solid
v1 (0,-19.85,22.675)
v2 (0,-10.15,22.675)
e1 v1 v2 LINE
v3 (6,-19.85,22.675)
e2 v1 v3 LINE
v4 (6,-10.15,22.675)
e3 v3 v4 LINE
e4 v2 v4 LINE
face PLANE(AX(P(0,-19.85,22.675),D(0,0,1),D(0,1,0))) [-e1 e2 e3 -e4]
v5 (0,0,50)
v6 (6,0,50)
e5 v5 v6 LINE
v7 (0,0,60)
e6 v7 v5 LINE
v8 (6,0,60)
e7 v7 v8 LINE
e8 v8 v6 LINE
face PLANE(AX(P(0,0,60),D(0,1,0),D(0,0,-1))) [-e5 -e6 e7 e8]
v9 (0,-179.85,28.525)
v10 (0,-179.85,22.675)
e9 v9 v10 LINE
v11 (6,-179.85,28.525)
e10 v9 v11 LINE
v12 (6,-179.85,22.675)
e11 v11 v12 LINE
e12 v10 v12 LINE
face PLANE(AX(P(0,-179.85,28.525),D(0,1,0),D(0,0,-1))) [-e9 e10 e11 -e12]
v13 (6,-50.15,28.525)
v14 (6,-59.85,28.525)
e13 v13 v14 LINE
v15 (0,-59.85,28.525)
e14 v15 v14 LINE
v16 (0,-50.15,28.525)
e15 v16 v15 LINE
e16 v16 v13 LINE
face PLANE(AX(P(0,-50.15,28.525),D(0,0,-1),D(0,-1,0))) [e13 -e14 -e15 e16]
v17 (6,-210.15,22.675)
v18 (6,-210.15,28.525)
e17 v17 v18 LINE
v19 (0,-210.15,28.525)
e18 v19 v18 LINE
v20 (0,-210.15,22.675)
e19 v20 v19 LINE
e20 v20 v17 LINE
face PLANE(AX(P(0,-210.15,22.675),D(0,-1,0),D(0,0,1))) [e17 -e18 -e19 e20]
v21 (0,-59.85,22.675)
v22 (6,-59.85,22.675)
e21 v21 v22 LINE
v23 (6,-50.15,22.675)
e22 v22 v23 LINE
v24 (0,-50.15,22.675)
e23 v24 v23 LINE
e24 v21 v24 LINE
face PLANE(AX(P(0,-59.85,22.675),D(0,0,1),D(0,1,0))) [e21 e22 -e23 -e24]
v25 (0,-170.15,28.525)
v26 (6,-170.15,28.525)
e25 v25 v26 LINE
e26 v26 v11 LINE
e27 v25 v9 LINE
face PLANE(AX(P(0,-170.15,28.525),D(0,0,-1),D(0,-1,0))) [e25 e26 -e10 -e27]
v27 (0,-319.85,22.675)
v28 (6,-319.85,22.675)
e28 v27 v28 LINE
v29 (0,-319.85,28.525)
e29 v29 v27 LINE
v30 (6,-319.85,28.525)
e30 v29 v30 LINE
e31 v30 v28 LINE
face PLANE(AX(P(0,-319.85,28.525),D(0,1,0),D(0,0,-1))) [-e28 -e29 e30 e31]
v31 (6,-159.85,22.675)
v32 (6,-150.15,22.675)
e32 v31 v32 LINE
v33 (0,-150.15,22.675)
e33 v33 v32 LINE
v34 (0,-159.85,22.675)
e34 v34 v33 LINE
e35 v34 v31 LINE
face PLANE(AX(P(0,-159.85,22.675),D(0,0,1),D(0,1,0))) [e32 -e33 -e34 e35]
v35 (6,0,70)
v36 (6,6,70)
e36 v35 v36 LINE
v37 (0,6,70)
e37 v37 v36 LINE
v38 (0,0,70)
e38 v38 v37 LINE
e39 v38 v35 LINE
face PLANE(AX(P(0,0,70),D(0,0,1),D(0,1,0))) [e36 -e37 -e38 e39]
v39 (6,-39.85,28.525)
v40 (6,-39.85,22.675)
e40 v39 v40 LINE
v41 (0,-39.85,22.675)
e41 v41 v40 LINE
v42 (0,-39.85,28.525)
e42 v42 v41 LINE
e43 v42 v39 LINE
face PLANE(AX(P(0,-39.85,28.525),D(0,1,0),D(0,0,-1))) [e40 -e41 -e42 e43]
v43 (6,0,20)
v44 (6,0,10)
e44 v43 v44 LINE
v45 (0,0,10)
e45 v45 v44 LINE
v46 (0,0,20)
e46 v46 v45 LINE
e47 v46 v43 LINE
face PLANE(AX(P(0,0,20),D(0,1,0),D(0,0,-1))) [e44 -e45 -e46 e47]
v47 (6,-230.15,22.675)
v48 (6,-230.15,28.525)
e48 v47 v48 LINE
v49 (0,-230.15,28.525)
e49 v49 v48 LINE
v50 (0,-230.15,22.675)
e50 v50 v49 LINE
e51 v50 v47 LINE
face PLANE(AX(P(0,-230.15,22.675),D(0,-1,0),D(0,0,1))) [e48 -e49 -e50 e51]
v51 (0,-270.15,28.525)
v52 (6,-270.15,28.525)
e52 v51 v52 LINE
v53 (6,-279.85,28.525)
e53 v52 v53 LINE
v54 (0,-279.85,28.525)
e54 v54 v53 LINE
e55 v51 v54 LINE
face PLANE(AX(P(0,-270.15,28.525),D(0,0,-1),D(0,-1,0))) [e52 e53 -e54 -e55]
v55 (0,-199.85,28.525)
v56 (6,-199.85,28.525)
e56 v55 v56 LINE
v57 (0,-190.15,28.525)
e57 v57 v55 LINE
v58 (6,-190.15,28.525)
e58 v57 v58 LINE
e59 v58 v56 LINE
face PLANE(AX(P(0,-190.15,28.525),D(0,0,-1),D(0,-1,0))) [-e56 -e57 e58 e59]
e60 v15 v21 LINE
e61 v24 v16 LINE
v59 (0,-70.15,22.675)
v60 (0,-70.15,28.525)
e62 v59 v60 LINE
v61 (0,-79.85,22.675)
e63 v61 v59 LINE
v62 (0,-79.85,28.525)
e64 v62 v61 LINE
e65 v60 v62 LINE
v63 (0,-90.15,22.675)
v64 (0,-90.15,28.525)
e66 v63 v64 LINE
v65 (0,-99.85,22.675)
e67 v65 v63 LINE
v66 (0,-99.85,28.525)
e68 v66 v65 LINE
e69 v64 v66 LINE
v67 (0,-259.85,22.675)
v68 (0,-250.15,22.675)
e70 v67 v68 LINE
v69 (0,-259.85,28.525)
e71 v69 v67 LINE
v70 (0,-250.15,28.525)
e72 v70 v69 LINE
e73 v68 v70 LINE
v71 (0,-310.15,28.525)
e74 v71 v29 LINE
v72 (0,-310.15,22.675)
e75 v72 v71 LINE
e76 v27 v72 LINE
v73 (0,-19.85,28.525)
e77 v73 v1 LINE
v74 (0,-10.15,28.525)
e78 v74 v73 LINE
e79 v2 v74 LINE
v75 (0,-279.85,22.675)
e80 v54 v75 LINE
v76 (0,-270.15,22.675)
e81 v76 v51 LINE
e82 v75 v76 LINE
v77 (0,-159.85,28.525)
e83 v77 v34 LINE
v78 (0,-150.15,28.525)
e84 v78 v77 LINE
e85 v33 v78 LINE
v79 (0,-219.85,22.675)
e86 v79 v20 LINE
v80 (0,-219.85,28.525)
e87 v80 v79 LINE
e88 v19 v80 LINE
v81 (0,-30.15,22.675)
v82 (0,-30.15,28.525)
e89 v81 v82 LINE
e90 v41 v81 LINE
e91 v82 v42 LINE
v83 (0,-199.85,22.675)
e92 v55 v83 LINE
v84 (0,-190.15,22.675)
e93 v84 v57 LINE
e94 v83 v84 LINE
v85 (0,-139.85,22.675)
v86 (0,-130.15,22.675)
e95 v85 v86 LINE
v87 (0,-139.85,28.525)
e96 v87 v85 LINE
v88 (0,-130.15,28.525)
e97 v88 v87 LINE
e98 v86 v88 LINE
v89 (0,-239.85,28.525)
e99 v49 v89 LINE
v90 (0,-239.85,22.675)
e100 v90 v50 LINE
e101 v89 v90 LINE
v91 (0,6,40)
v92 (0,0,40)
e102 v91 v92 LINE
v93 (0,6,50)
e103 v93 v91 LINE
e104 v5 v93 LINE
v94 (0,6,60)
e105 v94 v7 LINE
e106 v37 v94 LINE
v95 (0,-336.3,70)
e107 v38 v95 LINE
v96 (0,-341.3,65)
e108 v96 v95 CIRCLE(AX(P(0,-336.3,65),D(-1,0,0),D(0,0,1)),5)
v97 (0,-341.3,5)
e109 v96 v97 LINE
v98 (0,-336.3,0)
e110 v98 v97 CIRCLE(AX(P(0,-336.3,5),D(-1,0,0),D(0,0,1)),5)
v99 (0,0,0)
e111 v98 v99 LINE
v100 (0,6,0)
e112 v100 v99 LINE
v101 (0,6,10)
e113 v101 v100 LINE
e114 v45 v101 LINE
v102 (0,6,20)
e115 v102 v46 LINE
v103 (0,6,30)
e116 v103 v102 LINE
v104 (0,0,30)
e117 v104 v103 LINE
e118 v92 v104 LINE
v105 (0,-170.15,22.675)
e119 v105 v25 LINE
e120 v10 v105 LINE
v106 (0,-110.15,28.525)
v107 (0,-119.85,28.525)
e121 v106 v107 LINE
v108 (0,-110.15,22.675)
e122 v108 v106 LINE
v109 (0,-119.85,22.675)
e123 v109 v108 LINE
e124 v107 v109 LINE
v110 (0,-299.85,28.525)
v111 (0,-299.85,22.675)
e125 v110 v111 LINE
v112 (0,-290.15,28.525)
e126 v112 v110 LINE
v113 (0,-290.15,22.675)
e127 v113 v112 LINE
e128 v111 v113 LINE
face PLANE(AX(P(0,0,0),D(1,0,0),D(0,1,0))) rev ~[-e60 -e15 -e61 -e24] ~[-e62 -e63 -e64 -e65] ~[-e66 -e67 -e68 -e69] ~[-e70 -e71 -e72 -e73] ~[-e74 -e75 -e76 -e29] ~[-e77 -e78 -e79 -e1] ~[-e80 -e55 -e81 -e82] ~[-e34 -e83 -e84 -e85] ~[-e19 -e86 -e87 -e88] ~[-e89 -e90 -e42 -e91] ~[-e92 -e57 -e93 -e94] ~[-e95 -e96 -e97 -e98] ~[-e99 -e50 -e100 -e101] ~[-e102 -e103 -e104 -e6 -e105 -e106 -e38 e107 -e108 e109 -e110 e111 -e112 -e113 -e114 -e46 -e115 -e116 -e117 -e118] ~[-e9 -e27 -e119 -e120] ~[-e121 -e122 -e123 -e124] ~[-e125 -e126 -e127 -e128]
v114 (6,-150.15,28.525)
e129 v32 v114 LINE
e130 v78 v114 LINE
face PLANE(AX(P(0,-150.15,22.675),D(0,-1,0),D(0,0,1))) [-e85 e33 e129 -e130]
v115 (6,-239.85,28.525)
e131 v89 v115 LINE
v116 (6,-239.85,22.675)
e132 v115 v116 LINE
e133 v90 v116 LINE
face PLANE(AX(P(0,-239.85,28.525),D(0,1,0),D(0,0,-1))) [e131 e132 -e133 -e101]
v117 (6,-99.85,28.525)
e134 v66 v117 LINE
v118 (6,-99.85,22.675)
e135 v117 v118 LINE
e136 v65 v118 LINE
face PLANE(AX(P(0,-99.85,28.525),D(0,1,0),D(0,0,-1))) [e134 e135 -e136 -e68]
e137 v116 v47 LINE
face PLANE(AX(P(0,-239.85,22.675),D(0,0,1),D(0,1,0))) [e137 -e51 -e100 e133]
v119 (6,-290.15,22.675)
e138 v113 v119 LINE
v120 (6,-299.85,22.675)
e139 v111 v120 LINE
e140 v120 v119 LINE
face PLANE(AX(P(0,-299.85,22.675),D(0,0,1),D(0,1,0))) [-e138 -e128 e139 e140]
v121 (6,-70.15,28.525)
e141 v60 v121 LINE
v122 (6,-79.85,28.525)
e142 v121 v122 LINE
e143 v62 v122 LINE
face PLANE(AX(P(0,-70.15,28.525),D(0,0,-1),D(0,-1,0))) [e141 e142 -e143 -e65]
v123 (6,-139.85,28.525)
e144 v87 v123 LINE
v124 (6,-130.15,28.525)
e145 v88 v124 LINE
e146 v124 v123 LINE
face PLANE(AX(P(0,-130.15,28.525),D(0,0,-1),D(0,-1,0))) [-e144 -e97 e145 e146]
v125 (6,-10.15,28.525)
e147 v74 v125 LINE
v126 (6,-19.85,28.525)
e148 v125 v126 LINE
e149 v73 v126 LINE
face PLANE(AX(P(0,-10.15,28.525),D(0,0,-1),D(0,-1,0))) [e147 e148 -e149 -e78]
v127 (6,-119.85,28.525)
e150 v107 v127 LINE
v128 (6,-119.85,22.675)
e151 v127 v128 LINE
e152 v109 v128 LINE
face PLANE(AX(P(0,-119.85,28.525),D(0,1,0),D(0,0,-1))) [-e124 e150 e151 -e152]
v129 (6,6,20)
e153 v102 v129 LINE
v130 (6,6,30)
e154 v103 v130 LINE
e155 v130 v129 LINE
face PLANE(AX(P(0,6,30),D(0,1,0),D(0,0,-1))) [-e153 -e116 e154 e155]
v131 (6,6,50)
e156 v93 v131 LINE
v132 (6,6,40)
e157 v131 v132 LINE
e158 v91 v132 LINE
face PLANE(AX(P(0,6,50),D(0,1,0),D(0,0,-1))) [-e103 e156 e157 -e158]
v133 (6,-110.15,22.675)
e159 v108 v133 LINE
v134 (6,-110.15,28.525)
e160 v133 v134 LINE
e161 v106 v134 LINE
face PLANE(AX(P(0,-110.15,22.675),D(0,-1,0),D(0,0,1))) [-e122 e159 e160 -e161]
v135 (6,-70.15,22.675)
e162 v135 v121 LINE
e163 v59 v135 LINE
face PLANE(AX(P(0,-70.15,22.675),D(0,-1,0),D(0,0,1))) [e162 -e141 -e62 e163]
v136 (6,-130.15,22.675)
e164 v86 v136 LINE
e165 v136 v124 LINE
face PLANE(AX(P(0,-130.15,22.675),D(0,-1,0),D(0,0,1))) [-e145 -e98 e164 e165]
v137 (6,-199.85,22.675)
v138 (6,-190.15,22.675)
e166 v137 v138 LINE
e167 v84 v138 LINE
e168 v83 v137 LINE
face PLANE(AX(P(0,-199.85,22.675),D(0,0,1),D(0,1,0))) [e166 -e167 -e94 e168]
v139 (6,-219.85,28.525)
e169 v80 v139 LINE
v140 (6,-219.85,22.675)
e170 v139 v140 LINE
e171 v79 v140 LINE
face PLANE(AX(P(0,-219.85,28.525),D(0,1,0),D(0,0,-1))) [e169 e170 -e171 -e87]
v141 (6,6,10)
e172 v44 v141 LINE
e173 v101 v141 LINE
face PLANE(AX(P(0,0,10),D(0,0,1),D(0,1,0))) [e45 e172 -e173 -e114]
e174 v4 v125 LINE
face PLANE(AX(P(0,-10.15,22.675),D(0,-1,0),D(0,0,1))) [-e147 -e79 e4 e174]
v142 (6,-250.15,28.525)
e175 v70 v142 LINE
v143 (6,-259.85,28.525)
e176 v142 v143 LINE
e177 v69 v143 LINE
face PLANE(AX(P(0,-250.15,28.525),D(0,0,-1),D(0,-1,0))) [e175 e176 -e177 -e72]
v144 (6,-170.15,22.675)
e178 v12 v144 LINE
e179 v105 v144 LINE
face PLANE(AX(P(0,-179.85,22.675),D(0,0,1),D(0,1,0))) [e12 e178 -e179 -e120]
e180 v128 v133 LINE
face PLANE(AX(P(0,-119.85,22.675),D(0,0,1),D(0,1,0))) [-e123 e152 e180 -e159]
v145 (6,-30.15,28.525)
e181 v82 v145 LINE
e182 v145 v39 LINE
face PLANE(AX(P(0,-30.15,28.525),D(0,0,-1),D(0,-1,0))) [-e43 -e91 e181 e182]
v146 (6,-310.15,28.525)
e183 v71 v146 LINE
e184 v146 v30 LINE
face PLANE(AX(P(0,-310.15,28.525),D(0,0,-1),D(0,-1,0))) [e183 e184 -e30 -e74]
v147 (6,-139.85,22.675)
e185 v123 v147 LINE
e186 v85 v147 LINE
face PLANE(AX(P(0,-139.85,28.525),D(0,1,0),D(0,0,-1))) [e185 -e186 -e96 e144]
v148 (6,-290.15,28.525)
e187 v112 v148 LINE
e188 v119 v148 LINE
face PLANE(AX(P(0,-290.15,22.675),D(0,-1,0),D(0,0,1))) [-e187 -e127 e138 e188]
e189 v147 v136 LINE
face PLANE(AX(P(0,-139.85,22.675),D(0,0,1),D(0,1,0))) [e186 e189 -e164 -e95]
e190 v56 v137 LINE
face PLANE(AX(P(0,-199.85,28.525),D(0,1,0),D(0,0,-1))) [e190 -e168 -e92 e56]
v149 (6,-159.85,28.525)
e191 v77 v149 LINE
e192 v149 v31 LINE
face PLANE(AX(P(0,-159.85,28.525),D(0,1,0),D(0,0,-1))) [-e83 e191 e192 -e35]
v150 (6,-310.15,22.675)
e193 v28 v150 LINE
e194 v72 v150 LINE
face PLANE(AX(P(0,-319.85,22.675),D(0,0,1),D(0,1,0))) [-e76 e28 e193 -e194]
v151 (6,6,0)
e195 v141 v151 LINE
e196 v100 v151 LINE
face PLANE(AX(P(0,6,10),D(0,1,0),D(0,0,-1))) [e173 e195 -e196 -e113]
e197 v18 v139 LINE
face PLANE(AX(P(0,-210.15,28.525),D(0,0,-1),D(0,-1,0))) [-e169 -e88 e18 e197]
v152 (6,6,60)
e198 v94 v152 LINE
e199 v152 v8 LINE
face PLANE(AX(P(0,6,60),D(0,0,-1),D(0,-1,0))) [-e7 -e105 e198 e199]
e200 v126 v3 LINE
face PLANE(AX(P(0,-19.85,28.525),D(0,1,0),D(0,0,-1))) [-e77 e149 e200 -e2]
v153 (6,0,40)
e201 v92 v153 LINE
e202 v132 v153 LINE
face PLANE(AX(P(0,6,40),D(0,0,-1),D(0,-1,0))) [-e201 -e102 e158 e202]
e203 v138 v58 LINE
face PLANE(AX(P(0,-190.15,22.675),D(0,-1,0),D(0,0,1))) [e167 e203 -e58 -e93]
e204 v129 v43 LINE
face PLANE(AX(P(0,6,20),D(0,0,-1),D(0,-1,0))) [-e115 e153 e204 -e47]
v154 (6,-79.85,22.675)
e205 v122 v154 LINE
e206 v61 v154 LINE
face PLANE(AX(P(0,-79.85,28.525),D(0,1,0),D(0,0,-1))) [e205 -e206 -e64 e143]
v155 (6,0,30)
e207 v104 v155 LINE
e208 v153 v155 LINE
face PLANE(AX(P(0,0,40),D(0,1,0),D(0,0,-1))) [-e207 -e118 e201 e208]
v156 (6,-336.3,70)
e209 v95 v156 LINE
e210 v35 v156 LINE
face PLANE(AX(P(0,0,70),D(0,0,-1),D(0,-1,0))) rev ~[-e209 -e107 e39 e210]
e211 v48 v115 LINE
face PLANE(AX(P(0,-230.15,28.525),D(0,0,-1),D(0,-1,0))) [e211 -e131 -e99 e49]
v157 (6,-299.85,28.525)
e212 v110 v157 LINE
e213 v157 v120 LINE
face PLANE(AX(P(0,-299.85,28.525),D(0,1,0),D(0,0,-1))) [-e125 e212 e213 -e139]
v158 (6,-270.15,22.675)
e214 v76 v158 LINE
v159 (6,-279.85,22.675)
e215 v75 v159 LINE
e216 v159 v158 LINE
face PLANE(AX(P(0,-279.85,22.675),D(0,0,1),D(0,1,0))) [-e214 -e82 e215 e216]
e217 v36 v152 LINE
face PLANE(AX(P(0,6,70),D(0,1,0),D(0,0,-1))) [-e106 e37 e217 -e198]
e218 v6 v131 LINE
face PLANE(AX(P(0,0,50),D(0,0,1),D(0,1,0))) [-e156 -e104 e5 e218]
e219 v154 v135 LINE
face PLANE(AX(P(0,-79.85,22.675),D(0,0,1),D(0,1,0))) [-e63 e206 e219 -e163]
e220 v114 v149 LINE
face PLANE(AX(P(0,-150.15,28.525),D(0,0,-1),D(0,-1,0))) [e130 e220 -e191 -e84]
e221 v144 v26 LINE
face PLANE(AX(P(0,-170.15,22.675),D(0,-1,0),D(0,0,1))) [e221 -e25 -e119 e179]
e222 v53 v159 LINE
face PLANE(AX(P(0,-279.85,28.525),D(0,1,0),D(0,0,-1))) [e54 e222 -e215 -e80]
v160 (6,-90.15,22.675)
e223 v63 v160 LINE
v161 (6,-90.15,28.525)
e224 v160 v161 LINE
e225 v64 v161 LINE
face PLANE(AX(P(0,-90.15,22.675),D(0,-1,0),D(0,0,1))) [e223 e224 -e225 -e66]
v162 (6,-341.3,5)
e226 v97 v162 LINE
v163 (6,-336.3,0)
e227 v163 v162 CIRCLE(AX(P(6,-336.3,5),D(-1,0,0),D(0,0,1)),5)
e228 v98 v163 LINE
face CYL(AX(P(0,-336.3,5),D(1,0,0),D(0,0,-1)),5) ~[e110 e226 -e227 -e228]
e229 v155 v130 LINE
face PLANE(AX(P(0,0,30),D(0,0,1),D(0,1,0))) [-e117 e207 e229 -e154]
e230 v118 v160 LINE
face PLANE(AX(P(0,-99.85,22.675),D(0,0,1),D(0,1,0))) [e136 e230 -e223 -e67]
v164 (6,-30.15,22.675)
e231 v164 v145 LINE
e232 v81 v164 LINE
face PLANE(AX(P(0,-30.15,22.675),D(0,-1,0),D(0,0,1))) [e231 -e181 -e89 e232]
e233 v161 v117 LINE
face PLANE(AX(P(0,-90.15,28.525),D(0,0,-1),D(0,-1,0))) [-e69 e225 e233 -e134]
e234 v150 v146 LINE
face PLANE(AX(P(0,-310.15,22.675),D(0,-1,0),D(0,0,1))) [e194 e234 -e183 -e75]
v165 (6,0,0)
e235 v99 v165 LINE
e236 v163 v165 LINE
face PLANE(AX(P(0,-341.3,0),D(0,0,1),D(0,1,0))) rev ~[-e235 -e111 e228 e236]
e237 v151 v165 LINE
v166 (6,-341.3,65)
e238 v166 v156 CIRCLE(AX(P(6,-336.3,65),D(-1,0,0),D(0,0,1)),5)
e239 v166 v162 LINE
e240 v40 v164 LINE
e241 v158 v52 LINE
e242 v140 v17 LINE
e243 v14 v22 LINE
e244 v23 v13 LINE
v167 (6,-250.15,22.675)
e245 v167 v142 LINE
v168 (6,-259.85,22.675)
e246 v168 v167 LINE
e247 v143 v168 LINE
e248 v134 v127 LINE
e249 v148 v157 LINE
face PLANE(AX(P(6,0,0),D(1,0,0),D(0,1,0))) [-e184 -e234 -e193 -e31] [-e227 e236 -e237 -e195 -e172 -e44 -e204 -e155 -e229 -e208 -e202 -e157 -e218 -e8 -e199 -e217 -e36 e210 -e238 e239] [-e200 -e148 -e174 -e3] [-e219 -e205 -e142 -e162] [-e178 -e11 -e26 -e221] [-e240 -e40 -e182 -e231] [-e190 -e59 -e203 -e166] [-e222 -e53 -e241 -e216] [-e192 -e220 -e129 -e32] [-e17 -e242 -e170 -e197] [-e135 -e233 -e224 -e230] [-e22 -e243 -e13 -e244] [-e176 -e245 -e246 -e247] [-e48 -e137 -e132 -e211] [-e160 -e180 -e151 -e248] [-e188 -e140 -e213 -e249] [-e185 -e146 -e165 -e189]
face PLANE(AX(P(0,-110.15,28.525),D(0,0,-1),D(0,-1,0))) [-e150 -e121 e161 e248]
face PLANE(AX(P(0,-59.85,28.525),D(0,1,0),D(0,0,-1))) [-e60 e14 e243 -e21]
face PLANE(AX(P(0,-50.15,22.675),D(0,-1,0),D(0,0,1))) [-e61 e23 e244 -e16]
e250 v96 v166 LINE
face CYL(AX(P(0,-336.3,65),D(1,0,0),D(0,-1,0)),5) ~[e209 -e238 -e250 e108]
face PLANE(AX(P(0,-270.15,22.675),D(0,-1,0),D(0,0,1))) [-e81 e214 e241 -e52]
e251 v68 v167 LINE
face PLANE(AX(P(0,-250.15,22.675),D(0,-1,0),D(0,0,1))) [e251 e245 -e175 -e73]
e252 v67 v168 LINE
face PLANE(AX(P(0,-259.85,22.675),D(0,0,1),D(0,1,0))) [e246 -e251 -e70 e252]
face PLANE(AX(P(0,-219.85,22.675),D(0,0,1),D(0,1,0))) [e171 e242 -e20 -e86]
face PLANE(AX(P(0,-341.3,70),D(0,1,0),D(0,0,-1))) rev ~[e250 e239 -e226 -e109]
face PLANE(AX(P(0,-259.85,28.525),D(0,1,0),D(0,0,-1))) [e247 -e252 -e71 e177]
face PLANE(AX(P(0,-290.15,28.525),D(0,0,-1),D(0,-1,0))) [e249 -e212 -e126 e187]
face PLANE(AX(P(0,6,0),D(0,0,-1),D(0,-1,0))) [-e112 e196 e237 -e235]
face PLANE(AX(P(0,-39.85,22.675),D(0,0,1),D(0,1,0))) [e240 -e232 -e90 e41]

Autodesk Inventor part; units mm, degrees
ref_plane "YZ Plane" through (0, 0, 0) normal (1, 0, 0) x (0, 1, 0)
ref_plane "XZ Plane" through (0, 0, 0) normal (0, 1, 0) x (-1, 0, 0)
ref_plane "XY Plane" through (0, 0, 0) normal (0, 0, 1) x (1, 0, 0)
sketch "Sketch1" plane through (0, 0, 0) normal (1, 0, 0) x (0, 1, 0)
  line L0 (0, 70) -> (-341.3, 70)
  line L1 (-341.3, 70) -> (-341.3, 0)
  line L2 (-341.3, 0) -> (0, 0)
  line L3 (0, 0) -> (0, 60) construction
  line L4 (0, 70) -> (6, 70)
  line L5 (6, 70) -> (6, 60)
  line L6 (6, 60) -> (0, 60)
  line L7 (0, 50) -> (6, 50)
  line L8 (6, 50) -> (6, 40)
  line L9 (6, 40) -> (0, 40)
  line L10 (0, 30) -> (6, 30)
  line L11 (6, 30) -> (6, 20)
  line L12 (6, 20) -> (0, 20)
  line L13 (0, 10) -> (6, 10)
  line L14 (6, 10) -> (6, 0)
  line L15 (6, 0) -> (0, 0)
  line L16 (0, 60) -> (0, 50)
  line L17 (0, 40) -> (0, 30)
  line L18 (0, 20) -> (0, 10)
  line L19 (-10.15, 28.525) -> (-19.85, 28.525)
  line L20 (-19.85, 28.525) -> (-19.85, 22.675)
  line L21 (-19.85, 22.675) -> (-10.15, 22.675)
  line L22 (-10.15, 22.675) -> (-10.15, 28.525)
  line L23 (-10, 28.6) -> (-331.3, 28.6) construction
  line L24 (-331.3, 28.6) -> (-331.3, 22.6) construction
  line L25 (-331.3, 22.6) -> (-10, 22.6) construction
  line L26 (-10, 22.6) -> (-10, 28.6) construction
  line L27 (-15, 28.6) -> (-15, 22.6) construction
  line L28 (-30.15, 22.675) -> (-30.15, 28.525)
  line L29 (-30.15, 28.525) -> (-39.85, 28.525)
  line L30 (-39.85, 22.675) -> (-30.15, 22.675)
  line L31 (-39.85, 28.525) -> (-39.85, 22.675)
  line L32 (-50.15, 22.675) -> (-50.15, 28.525)
  line L33 (-50.15, 28.525) -> (-59.85, 28.525)
  line L34 (-59.85, 22.675) -> (-50.15, 22.675)
  line L35 (-59.85, 28.525) -> (-59.85, 22.675)
  line L36 (-70.15, 22.675) -> (-70.15, 28.525)
  line L37 (-70.15, 28.525) -> (-79.85, 28.525)
  line L38 (-79.85, 22.675) -> (-70.15, 22.675)
  line L39 (-79.85, 28.525) -> (-79.85, 22.675)
  line L40 (-90.15, 22.675) -> (-90.15, 28.525)
  line L41 (-90.15, 28.525) -> (-99.85, 28.525)
  line L42 (-99.85, 22.675) -> (-90.15, 22.675)
  line L43 (-99.85, 28.525) -> (-99.85, 22.675)
  line L44 (-110.15, 22.675) -> (-110.15, 28.525)
  line L45 (-110.15, 28.525) -> (-119.85, 28.525)
  line L46 (-119.85, 22.675) -> (-110.15, 22.675)
  line L47 (-119.85, 28.525) -> (-119.85, 22.675)
  line L48 (-130.15, 22.675) -> (-130.15, 28.525)
  line L49 (-130.15, 28.525) -> (-139.85, 28.525)
  line L50 (-139.85, 22.675) -> (-130.15, 22.675)
  line L51 (-139.85, 28.525) -> (-139.85, 22.675)
  line L52 (-150.15, 22.675) -> (-150.15, 28.525)
  line L53 (-150.15, 28.525) -> (-159.85, 28.525)
  line L54 (-159.85, 22.675) -> (-150.15, 22.675)
  line L55 (-159.85, 28.525) -> (-159.85, 22.675)
  line L56 (-170.15, 22.675) -> (-170.15, 28.525)
  line L57 (-170.15, 28.525) -> (-179.85, 28.525)
  line L58 (-179.85, 22.675) -> (-170.15, 22.675)
  line L59 (-179.85, 28.525) -> (-179.85, 22.675)
  line L60 (-190.15, 22.675) -> (-190.15, 28.525)
  line L61 (-190.15, 28.525) -> (-199.85, 28.525)
  line L62 (-199.85, 22.675) -> (-190.15, 22.675)
  line L63 (-199.85, 28.525) -> (-199.85, 22.675)
  line L64 (-210.15, 22.675) -> (-210.15, 28.525)
  line L65 (-210.15, 28.525) -> (-219.85, 28.525)
  line L66 (-219.85, 22.675) -> (-210.15, 22.675)
  line L67 (-219.85, 28.525) -> (-219.85, 22.675)
  line L68 (-230.15, 22.675) -> (-230.15, 28.525)
  line L69 (-230.15, 28.525) -> (-239.85, 28.525)
  line L70 (-239.85, 22.675) -> (-230.15, 22.675)
  line L71 (-239.85, 28.525) -> (-239.85, 22.675)
  line L72 (-250.15, 22.675) -> (-250.15, 28.525)
  line L73 (-250.15, 28.525) -> (-259.85, 28.525)
  line L74 (-259.85, 22.675) -> (-250.15, 22.675)
  line L75 (-259.85, 28.525) -> (-259.85, 22.675)
  line L76 (-270.15, 22.675) -> (-270.15, 28.525)
  line L77 (-270.15, 28.525) -> (-279.85, 28.525)
  line L78 (-279.85, 22.675) -> (-270.15, 22.675)
  line L79 (-279.85, 28.525) -> (-279.85, 22.675)
  line L80 (-290.15, 22.675) -> (-290.15, 28.525)
  line L81 (-290.15, 28.525) -> (-299.85, 28.525)
  line L82 (-299.85, 22.675) -> (-290.15, 22.675)
  line L83 (-299.85, 28.525) -> (-299.85, 22.675)
  line L84 (-310.15, 22.675) -> (-310.15, 28.525)
  line L85 (-310.15, 28.525) -> (-319.85, 28.525)
  line L86 (-319.85, 22.675) -> (-310.15, 22.675)
  line L87 (-319.85, 28.525) -> (-319.85, 22.675)
  point P0 (0, 35)
  point P1 (-170.65, 0)
  point P2 (3, 70)
  point P3 (3, 50)
  point P4 (3, 30)
  point P5 (3, 10)
  point P6 (-10.15, 25.6)
  point P7 (-10, 25.6)
  point P8 (0, 35)
  point P9 (-15, 25.6)
  point P10 (-15, 22.675)
  point P11 (-30.15, 25.6)
  point P12 (-35, 22.675)
  point P13 (-50.15, 25.6)
  point P14 (-55, 22.675)
  point P15 (-70.15, 25.6)
  point P16 (-75, 22.675)
  point P17 (-90.15, 25.6)
  point P18 (-95, 22.675)
  point P19 (-110.15, 25.6)
  point P20 (-115, 22.675)
  point P21 (-130.15, 25.6)
  point P22 (-135, 22.675)
  point P23 (-150.15, 25.6)
  point P24 (-155, 22.675)
  point P25 (-170.15, 25.6)
  point P26 (-175, 22.675)
  point P27 (-190.15, 25.6)
  point P28 (-195, 22.675)
  point P29 (-210.15, 25.6)
  point P30 (-215, 22.675)
  point P31 (-230.15, 25.6)
  point P32 (-235, 22.675)
  point P33 (-250.15, 25.6)
  point P34 (-255, 22.675)
  point P35 (-270.15, 25.6)
  point P36 (-275, 22.675)
  point P37 (-290.15, 25.6)
  point P38 (-295, 22.675)
  point P39 (-310.15, 25.6)
  point P40 (-315, 22.675)
  dimension "d7" = 70
  dimension "d18" = 6
  dimension "d21" = 10
  dimension "d24" = 341.3
  dimension "d35" = 20
  dimension "d49" = 5.85
  dimension "d50" = 9.7
  dimension "d51" = 6
  dimension "d52" = 9.4
  dimension "d53" = 10
  dimension "d58" = 10
  dimension "d60" = 5
  dimension "d63" = 20
extrude "Extrusion1" add sketch "Sketch1" along normal blind 6
fillet "Fillet1" radius 5 2 edges at (3, -341.3, 70) (3, -341.3, 0)
equation "\"d7\" = moduleMountH"
equation "\"d18\" = fingerH"
equation "\"d21\" = fingerW"
equation "\"d24\" = supportL"
equation "\"d35\" = fingerSpacing"
equation "\"d49\" = fingerholeH"
equation "\"d50\" = fingerholeW"
equation "\"d51\" = thickness"
equation "\"d52\" = supportsCTCZ"
equation "\"d53\" = 0.5 * fingerSpacing"
equation "\"d58\" = 0.5 * fingerSpacing"
equation "\"d60\" = 0.5 * fingerW"
equation "\"d63\" = fingerSpacing"
equation "\"d44\" = thickness"
equation "\"d73\" = supportsFilletR"
equation "\"moduleWidth\" = 118"
equation "\"moduleHeight\" = 96"
equation "\"moduleMountH\" = 70"
equation "\"moduleMountD\" = 6.8"
equation "\"moduleCornerR\" = 5"
equation "\"d4\" = moduleCornerR"
equation "\"d5\" = moduleMountD"
equation "\"d6\" = moduleMountD"
equation "\"d8\" = moduleMountD"
equation "\"d10\" = moduleMountD"
equation "\"moduleOpeningR\" = 25"
equation "\"d13\" = moduleOpeningR"
equation "\"thickness\" = 6"
equation "\"d15\" = thickness"
equation "\"d16\" = 0"
equation "\"kerf\" = 0.15"
equation "\"fingerW\" = 10"
equation "\"fingerSpacing\" = 20"
equation "\"fingerholeW\" = fingerW - 2 * kerf"
equation "\"fingerholeH\" = thickness - kerf"
equation "\"moduleMountClearance\" = 19"
equation "\"actuatorW\" = 28"
equation "\"actuatorH\" = 40.8"
equation "\"openingMFC\" = 45"
equation "\"d28\" = thickness"
equation "\"d29\" = thickness"
equation "\"d30\" = 0.5 * actuatorH + thickness"
equation "\"d31\" = 15"
equation "\"d32\" = fingerholeH"
equation "\"d33\" = fingerholeW"
equation "\"d41\" = fingerholeH"
equation "\"d42\" = fingerholeW"
equation "\"chairThickness\" = 12.7"
equation "\"supportL\" = -chairThickness + dildoL + actuatorMountL - thickness"
equation "\"d0\" = moduleHeight"
equation "\"d1\" = moduleWidth"
equation "\"d17\" = openingMFC"
equation "\"d19\" = moduleMountClearance"
equation "\"fingerH\" = thickness"
equation "\"supportSpacingFromMounting\" = 15"
equation "\"d54\" = fingerholeH"
equation "\"d55\" = fingerholeW"
equation "\"d64\" = 9.4"
equation "\"supportsCTCZ\" = d64"
equation "\"supportXW\" = -2 * thickness + moduleMountW - 2 * supportSpacingFromMounting + kerf"
equation "\"supportsFilletR\" = 5"
equation "\"dildoL\" = 170"
equation "\"actuatorMountL\" = 190"
equation "\"moduleMountW\" = 100"
properties part number "Module_supportZ_MFC"
